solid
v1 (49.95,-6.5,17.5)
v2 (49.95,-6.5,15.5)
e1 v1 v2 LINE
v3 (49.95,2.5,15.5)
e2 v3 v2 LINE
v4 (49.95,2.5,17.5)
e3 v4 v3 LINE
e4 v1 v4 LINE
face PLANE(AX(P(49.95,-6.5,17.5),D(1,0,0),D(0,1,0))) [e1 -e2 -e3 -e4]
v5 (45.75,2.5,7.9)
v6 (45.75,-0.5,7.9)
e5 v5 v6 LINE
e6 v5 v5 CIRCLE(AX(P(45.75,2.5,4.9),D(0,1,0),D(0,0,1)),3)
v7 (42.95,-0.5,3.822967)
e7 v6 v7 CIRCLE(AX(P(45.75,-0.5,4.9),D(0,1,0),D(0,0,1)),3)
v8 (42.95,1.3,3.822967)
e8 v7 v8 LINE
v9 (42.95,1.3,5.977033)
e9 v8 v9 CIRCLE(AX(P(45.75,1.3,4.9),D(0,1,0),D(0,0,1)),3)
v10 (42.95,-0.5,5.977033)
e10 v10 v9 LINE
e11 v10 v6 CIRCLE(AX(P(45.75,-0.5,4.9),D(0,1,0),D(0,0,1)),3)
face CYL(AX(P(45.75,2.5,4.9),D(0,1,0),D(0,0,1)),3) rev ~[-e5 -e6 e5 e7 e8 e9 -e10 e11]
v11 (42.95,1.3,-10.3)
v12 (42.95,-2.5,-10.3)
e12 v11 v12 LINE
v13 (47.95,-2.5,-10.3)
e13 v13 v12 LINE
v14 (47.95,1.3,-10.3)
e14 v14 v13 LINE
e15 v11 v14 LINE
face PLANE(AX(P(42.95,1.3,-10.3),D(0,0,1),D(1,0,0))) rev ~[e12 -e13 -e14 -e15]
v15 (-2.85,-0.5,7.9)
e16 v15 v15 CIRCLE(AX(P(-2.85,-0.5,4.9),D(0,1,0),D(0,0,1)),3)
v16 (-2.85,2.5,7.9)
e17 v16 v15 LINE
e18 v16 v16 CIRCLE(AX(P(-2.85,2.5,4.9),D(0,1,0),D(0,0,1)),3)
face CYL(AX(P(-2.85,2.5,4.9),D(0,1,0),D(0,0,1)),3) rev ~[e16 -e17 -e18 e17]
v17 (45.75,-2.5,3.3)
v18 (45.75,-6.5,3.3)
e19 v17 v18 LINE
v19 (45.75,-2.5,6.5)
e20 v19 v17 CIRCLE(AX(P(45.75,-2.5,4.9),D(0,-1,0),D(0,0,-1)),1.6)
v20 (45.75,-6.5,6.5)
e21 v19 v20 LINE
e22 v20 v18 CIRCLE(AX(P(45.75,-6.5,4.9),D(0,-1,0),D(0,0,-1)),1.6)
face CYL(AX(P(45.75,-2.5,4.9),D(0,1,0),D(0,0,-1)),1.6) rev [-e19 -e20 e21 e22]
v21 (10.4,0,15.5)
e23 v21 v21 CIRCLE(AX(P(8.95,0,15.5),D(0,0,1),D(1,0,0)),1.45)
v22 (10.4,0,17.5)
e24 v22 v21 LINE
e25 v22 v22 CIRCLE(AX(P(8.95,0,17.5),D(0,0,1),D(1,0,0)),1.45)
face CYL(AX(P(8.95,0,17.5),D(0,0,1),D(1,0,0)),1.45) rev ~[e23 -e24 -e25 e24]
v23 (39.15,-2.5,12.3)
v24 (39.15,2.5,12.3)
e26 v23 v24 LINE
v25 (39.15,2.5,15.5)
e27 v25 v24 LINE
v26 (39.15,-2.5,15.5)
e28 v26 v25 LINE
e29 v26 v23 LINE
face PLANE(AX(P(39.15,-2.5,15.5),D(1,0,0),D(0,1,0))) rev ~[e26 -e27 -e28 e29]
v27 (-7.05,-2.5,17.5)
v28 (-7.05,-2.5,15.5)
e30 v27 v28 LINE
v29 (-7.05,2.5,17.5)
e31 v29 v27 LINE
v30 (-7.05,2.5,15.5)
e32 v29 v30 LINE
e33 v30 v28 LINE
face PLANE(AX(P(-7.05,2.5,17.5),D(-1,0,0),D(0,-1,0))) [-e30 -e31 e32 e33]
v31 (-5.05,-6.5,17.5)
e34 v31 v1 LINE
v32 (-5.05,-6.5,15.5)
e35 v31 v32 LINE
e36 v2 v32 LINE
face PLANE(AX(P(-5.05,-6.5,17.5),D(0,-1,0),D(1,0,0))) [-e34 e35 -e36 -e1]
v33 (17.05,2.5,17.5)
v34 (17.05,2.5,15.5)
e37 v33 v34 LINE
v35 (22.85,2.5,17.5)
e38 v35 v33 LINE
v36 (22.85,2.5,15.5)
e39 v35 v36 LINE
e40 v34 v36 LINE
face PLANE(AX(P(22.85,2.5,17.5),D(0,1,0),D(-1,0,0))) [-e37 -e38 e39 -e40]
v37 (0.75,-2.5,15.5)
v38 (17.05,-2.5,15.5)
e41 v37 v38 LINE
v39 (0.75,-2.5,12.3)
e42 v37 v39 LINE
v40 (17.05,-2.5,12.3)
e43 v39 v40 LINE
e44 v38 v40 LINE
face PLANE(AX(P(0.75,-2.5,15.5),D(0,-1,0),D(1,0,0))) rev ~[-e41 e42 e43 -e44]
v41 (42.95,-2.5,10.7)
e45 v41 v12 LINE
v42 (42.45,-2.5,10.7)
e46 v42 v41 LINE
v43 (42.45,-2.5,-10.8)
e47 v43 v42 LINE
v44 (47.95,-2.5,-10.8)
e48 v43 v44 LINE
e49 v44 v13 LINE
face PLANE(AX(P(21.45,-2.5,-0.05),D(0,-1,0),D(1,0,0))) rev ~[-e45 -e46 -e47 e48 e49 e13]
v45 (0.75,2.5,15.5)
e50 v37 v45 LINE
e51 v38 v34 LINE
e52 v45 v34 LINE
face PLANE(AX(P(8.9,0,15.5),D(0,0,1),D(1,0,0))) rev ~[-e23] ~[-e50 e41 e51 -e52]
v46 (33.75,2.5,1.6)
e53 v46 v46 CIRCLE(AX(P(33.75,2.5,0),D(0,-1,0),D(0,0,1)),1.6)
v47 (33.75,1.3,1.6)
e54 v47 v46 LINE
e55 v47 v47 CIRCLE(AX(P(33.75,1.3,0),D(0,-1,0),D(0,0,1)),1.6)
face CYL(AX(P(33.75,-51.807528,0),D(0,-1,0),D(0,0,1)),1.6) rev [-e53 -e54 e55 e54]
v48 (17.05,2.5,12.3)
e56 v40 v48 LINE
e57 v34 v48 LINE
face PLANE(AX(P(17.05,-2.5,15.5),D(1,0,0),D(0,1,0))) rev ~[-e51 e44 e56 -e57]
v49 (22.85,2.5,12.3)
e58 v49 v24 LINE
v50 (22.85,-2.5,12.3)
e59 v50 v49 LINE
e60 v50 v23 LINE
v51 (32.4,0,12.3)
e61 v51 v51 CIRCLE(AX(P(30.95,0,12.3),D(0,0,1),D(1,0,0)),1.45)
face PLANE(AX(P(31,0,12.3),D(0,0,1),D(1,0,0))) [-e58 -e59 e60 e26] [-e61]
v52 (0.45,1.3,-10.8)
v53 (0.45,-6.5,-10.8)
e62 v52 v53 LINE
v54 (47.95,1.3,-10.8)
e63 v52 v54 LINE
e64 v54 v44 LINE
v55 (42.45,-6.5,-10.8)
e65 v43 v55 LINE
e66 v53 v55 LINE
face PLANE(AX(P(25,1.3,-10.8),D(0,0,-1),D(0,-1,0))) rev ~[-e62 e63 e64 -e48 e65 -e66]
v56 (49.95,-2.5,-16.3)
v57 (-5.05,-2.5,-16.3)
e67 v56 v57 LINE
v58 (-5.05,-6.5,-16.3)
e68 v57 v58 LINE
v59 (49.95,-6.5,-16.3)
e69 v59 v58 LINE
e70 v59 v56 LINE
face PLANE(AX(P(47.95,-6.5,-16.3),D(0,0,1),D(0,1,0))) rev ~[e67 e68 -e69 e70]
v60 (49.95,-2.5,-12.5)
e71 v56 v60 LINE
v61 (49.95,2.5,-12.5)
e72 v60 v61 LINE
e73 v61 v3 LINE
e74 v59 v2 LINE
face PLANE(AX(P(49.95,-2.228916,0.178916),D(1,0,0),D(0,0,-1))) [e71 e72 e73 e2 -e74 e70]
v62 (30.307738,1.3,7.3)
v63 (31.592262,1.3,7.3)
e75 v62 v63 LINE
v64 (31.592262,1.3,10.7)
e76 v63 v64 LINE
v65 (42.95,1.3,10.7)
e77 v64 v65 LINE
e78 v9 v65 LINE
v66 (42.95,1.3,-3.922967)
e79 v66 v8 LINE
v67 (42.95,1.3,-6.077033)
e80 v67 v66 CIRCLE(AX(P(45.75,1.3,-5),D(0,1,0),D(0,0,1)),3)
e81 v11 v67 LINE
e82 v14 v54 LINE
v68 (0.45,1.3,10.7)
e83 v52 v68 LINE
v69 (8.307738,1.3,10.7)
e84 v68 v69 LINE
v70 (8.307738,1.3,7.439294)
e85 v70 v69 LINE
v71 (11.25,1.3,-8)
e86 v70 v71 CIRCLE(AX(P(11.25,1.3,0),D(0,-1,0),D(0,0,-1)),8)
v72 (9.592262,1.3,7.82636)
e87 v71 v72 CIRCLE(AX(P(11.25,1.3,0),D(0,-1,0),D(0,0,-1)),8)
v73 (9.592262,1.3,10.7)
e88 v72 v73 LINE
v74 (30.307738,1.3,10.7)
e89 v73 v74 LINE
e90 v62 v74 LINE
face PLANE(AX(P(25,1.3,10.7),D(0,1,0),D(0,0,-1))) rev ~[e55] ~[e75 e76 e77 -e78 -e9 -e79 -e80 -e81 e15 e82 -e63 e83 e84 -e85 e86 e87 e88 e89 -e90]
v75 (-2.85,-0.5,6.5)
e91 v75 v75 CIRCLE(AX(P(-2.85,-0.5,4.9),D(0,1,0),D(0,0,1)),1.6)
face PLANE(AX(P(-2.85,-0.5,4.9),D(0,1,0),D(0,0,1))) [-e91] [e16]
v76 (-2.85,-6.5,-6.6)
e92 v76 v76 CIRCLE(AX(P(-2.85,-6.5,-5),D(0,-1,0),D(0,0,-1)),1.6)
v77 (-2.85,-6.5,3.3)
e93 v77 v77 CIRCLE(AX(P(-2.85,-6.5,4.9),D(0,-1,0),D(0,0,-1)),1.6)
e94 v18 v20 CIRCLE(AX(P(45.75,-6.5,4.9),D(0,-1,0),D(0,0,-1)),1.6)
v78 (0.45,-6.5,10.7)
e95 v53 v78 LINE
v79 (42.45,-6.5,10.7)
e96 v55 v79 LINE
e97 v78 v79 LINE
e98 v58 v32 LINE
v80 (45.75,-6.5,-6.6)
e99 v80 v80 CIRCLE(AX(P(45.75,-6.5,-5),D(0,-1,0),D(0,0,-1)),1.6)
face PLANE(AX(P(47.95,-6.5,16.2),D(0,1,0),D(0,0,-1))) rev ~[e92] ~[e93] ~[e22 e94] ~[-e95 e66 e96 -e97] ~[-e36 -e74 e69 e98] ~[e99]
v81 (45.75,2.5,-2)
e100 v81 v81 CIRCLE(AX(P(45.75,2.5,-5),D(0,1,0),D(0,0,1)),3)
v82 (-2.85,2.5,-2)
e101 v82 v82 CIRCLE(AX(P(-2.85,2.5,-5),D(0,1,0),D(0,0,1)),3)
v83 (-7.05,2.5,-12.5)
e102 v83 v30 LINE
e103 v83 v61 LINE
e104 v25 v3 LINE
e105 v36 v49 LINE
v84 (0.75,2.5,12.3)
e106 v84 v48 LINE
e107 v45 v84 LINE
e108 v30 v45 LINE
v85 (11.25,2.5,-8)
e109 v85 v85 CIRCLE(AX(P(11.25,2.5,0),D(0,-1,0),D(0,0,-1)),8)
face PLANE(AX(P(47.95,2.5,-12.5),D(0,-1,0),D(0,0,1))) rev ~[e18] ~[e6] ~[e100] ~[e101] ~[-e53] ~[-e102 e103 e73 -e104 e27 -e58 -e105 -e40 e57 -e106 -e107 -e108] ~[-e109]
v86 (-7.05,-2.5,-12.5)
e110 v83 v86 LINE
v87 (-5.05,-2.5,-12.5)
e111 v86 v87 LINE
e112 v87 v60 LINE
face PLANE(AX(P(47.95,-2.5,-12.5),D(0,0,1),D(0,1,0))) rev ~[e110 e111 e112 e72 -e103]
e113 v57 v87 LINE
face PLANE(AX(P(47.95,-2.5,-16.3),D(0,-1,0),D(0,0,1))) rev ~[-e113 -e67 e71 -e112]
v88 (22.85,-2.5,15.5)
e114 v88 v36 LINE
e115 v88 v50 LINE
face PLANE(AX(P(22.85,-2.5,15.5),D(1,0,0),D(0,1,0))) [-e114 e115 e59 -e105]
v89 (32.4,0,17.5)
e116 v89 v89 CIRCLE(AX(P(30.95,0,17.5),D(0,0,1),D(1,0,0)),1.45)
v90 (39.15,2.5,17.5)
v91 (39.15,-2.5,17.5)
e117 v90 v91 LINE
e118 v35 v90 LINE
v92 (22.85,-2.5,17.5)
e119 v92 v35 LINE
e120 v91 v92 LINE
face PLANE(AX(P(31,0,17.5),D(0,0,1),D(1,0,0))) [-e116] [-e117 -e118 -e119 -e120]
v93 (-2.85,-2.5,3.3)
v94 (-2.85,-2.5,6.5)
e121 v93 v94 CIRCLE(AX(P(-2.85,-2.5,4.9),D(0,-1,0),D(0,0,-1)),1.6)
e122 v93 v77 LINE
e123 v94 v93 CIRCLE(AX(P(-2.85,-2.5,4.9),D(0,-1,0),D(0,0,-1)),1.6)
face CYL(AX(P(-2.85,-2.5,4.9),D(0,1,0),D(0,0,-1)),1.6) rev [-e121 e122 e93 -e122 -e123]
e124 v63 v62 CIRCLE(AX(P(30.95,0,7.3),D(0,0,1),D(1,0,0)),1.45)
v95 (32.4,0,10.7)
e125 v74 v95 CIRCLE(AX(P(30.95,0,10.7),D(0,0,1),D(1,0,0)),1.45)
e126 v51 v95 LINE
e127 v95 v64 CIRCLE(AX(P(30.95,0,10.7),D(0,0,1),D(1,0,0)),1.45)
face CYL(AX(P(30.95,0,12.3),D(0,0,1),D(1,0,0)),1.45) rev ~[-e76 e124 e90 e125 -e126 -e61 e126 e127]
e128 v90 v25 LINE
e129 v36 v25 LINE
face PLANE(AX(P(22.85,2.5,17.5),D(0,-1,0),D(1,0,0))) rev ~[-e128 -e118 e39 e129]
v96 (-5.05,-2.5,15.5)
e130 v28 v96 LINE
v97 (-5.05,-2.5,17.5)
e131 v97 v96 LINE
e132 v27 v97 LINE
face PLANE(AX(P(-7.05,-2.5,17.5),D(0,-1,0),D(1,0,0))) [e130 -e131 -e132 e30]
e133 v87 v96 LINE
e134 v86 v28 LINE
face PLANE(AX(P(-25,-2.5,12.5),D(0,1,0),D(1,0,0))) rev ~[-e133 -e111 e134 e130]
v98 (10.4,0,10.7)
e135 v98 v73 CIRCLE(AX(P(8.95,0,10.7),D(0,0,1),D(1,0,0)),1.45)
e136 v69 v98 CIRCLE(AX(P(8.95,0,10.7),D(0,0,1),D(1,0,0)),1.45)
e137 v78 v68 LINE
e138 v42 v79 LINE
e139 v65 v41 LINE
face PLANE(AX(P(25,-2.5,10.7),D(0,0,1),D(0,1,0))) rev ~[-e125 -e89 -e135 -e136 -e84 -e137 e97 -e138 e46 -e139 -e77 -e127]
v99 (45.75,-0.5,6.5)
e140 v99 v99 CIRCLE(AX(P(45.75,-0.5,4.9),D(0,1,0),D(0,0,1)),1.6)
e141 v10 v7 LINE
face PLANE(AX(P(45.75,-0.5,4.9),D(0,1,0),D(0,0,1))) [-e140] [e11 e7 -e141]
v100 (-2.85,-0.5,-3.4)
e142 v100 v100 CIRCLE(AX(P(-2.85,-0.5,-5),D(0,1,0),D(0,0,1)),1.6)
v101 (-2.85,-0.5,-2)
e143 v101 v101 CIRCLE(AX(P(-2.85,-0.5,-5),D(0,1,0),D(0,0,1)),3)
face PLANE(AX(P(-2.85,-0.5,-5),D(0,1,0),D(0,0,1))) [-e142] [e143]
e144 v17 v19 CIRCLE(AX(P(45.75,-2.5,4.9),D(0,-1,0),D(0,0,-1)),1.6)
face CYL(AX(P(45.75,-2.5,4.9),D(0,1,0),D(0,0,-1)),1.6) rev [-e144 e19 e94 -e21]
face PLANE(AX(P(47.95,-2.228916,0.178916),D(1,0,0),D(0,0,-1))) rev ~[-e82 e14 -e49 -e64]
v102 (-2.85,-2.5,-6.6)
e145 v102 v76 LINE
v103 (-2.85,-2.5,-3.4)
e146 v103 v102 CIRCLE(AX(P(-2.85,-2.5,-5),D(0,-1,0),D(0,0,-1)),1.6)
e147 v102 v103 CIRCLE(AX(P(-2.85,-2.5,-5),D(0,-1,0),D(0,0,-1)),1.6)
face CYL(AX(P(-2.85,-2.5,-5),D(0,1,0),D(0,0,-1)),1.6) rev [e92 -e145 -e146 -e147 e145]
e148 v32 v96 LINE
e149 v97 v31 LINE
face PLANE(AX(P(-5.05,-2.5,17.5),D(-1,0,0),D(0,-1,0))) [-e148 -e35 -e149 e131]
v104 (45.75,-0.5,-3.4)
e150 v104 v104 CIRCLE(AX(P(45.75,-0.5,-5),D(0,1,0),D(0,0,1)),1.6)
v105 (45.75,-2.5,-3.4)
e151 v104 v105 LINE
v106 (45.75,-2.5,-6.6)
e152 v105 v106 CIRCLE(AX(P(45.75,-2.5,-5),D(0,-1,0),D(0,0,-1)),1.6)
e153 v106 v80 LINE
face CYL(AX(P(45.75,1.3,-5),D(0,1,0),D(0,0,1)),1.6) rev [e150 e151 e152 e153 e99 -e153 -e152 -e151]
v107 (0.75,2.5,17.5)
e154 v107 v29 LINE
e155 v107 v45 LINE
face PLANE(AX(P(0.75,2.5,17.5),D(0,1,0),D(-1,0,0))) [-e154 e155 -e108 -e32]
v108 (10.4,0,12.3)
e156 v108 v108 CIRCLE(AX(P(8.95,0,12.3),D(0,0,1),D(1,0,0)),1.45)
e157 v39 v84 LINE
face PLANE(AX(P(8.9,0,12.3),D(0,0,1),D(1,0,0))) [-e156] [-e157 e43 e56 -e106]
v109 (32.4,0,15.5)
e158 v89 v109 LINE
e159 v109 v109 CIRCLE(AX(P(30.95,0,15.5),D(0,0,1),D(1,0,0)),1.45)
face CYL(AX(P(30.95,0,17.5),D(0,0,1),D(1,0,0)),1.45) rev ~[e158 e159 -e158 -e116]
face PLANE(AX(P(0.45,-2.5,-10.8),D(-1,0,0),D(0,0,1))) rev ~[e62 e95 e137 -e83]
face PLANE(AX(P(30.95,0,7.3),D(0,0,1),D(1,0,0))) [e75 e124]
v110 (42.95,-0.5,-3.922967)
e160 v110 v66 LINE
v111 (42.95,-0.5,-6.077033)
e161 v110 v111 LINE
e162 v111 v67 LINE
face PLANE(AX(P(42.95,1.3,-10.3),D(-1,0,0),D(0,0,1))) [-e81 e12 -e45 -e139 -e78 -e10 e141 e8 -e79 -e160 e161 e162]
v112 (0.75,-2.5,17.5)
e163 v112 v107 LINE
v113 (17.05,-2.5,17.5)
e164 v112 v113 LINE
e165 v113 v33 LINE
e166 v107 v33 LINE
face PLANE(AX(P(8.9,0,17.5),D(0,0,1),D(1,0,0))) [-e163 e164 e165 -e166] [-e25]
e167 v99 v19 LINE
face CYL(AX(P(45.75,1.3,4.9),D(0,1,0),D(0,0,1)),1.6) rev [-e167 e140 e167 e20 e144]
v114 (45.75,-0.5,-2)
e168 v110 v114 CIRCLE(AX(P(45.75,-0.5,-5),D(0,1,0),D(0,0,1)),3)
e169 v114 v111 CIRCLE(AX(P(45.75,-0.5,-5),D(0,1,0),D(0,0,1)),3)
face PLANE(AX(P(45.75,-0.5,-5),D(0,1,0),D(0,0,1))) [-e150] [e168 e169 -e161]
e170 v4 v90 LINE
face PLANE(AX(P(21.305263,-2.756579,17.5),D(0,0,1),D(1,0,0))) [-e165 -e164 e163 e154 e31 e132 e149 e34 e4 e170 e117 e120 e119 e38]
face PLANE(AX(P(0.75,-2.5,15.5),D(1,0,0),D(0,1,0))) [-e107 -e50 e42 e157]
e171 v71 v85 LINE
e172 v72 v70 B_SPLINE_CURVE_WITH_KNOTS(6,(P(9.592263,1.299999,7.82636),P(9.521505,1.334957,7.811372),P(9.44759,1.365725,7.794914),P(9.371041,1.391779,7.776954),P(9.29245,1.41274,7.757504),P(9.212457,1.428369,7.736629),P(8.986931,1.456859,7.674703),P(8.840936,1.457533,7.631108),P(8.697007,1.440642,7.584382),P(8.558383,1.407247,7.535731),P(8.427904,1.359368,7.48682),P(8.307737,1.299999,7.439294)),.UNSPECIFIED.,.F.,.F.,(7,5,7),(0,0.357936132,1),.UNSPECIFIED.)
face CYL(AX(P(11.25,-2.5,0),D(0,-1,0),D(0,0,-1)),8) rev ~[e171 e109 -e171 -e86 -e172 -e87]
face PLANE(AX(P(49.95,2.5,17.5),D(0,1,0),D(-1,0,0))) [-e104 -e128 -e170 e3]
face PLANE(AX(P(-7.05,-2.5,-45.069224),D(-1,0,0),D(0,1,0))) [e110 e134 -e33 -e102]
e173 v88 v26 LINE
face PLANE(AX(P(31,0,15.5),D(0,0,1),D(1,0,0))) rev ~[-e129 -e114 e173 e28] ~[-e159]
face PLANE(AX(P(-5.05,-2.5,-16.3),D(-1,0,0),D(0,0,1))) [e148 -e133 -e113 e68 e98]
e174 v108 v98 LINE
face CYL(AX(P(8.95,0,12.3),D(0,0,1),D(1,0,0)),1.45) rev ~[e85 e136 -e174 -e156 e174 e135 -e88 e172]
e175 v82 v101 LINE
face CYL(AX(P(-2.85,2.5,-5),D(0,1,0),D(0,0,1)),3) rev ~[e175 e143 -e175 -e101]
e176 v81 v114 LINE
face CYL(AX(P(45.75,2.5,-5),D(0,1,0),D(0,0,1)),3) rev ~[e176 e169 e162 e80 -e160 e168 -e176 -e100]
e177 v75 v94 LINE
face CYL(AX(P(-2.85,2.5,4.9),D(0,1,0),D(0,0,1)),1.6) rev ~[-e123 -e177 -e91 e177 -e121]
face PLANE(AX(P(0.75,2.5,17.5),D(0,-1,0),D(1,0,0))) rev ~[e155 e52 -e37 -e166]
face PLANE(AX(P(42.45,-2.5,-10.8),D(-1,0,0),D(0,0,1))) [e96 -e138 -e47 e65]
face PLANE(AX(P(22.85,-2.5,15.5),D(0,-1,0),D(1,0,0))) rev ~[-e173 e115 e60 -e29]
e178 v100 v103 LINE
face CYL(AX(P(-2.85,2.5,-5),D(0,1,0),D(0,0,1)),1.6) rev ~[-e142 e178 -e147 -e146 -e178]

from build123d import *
from build123d.topology import SkipClean

# Parameters (mm, degrees)
SKETCH1_W                = 50
SKETCH1_H                = 25
SKETCH1_R                = 1.3
SKETCH1_R_2              = 4.5
BOSS_EXTRUDE1_DEPTH      = 2.5
SKETCH2_W                = 50
SKETCH2_H                = 12
BOSS_EXTRUDE2_DEPTH      = 3
SKETCH3_W                = 50
SKETCH3_H                = 28
BOSS_EXTRUDE3_DEPTH      = 3
SKETCH4_R                = 1.3
CUT_EXTRUDE1_DEPTH       = 34.018933962
SKETCH5_W                = 53
SKETCH5_H                = 32.5
SKETCH5_R                = 1.6
SKETCH5_W_2              = 42
SKETCH5_H_2              = 21.5
BOSS_EXTRUDE4_DEPTH      = 4
SKETCH7_R                = 8
CUT_EXTRUDE2_DEPTH       = 5
SKETCH8_W                = 24.55
SKETCH8_H                = 21.5
CUT_EXTRUDE3_DEPTH       = 3.8
BOSS_EXTRUDE6_DEPTH      = 22.95
BOSS_EXTRUDE7_DEPTH      = 2
CUT_EXTRUDE4_START       = -1.2
SKETCH11_R               = 1.6
CUT_EXTRUDE4_DEPTH       = 1.2
SKETCH12_W               = 7
SKETCH12_H               = 21
SKETCH12_R               = 1.6
BOSS_EXTRUDE8_DEPTH      = 7.8
CUT_EXTRUDE5_DEPTH       = 55.054972019
CUT_EXTRUDE5_DEPTH_BACK  = 55.054972019
SKETCH13_W               = 0.7
SKETCH13_H               = 5
SKETCH13_H_2             = 4
CUT_EXTRUDE6_DEPTH       = 78.713850117
CUT_EXTRUDE6_DEPTH_BACK  = 78.713850117
SKETCH14_W               = 28
SKETCH14_H               = 10
SKETCH16_R               = 3
CUT_EXTRUDE8_DEPTH       = 3
SKETCH15_R               = 1.6
CUT_EXTRUDE9_DEPTH       = 5
SKETCH17_W               = 16.3
SKETCH17_H               = 5
CUT_EXTRUDE10_DEPTH      = 3.2
SKETCH18_R               = 1.45
CUT_EXTRUDE11_DEPTH      = 5
CUT_EXTRUDE12_DEPTH      = 54.307527611
CUT_EXTRUDE12_DEPTH_BACK = 54.307527611
SKETCH19_R               = 1.6
CUT_EXTRUDE14_DEPTH      = 60.569224437
CUT_EXTRUDE14_DEPTH_BACK = 60.569224437
SKETCH20_W               = 17.95
SKETCH20_H               = 5
BOSS_EXTRUDE11_START     = 2
SKETCH21_W               = 16.3
SKETCH21_H               = 5
SKETCH21_R               = 1.45
BOSS_EXTRUDE11_DEPTH     = 2


with BuildPart() as part:
    # Sketch1 → Boss-Extrude1 (new, symmetric)
    with BuildSketch(Plane(origin=(0, 0, 0), x_dir=(1, 0, 0), z_dir=(0, 1, 0))):
        Rectangle(SKETCH1_W, SKETCH1_H)
        with Locations(Location((-11.25, 0, 0), (0, 0, 270))):
            Circle(SKETCH1_R, mode=Mode.SUBTRACT)
        with Locations(Location((11.25, 0, 0), (0, 0, 270))):
            Circle(SKETCH1_R_2, mode=Mode.SUBTRACT)
    extrude(amount=BOSS_EXTRUDE1_DEPTH, both=True)

    # Sketch2 → Boss-Extrude2 (add)
    with BuildSketch(Plane.XY.offset(12.5)):
        with Locations((0, 3.5)):
            Rectangle(SKETCH2_W, SKETCH2_H)
    extrude(amount=BOSS_EXTRUDE2_DEPTH)

    # Sketch3 → Boss-Extrude3 (add)
    with BuildSketch(Plane(origin=(0, 9.5, 0), x_dir=(1, 0, 0), z_dir=(0, 1, 0))):
        with Locations((0, -1.5)):
            Rectangle(SKETCH3_W, SKETCH3_H)
    extrude(amount=BOSS_EXTRUDE3_DEPTH)

    # Sketch4 → Cut-Extrude1 (cut, through all)
    with BuildSketch(Plane(origin=(0, 12.5, 0), x_dir=(1, 0, 0), z_dir=(0, 1, 0))):
        with Locations(Location((11.25, 0, 0), (0, 0, 270))):
            Circle(SKETCH4_R)
        with Locations(Location((-11.25, 0, 0), (0, 0, 270))):
            Circle(SKETCH4_R)
    extrude(amount=-CUT_EXTRUDE1_DEPTH, mode=Mode.SUBTRACT)

    # Sketch5 → Boss-Extrude4 (add)
    with BuildSketch(Plane.XZ.offset(2.5)):
        with Locations((21.45, -0.05)):
            Rectangle(SKETCH5_W, SKETCH5_H)
        with Locations(Location((45.75, -5, 0), (0, 0, 270))):
            Circle(SKETCH5_R, mode=Mode.SUBTRACT)
        with Locations(Location((45.75, 4.9, 0), (0, 0, 270))):
            Circle(SKETCH5_R, mode=Mode.SUBTRACT)
        with Locations(Location((-2.85, 4.9, 0), (0, 0, 270))):
            Circle(SKETCH5_R, mode=Mode.SUBTRACT)
        with Locations(Location((-2.85, -5, 0), (0, 0, 270))):
            Circle(SKETCH5_R, mode=Mode.SUBTRACT)
        with Locations((21.45, -0.05)):
            Rectangle(SKETCH5_W_2, SKETCH5_H_2, mode=Mode.SUBTRACT)
    extrude(amount=BOSS_EXTRUDE4_DEPTH)

    # Sketch7 → Cut-Extrude2 (cut)
    with BuildSketch(Plane.XZ.offset(2.5)):
        with Locations(Location((11.25, 0, 0), (0, 0, 270))):
            Circle(SKETCH7_R)
    extrude(amount=-CUT_EXTRUDE2_DEPTH, mode=Mode.SUBTRACT)

    # Sketch8 → Cut-Extrude3 (cut)
    with BuildSketch(Plane.XZ.offset(2.5)):
        with Locations((12.725, -0.05)):
            Rectangle(SKETCH8_W, SKETCH8_H)
    extrude(amount=-CUT_EXTRUDE3_DEPTH, mode=Mode.SUBTRACT)

    # Sketch9 → Boss-Extrude6 (add)
    with BuildSketch(Plane(origin=(25, 0, 0), x_dir=(0, 0, -1), z_dir=(1, 0, 0))):
        Polygon((12.5, 2.5), (-16.2, 2.5), (-16.2, -2.5), (-10.7, -2.5), (-10.7, 1.3), (10.8, 1.3), (10.8, -2.5), (12.5, -2.5), align=None)
    extrude(amount=BOSS_EXTRUDE6_DEPTH)

    # Sketch10 → Boss-Extrude7 (add)
    with BuildSketch(Plane(origin=(47.95, 0, 0), x_dir=(0, 0, -1), z_dir=(1, 0, 0))):
        Polygon((16.3, -2.5), (12.5, -2.5), (12.5, 2.5), (-16.2, 2.5), (-16.2, -6.5), (16.3, -6.5), align=None)
    extrude(amount=BOSS_EXTRUDE7_DEPTH)

    # Sketch11 → Cut-Extrude4 (cut)
    with BuildSketch(Plane.XZ.offset(-1.3).offset(CUT_EXTRUDE4_START)):
        with Locations(Location((-2.85, 4.9, 0), (0, 0, 270))):
            Circle(SKETCH11_R)
        with Locations(Location((-2.85, -5, 0), (0, 0, 270))):
            Circle(SKETCH11_R)
        with Locations(Location((45.75, 4.9, 0), (0, 0, 270))):
            Circle(SKETCH11_R)
        with Locations(Location((45.75, -5, 0), (0, 0, 270))):
            Circle(SKETCH11_R)
    extrude(amount=CUT_EXTRUDE4_DEPTH, mode=Mode.SUBTRACT)

    # Sketch12 → Boss-Extrude8 (add)
    with BuildSketch(Plane.XZ.offset(-1.3)):
        with Locations((46.45, 0.2)):
            Rectangle(SKETCH12_W, SKETCH12_H)
        with Locations(Location((45.75, 4.9, 0), (0, 0, 90))):
            Circle(SKETCH12_R, mode=Mode.SUBTRACT)
        with Locations(Location((45.75, -5, 0), (0, 0, 90))):
            Circle(SKETCH12_R, mode=Mode.SUBTRACT)
    extrude(amount=BOSS_EXTRUDE8_DEPTH)

    # Sketch13 → Cut-Extrude5 (cut, two sides: drawn at the far end of the back side and taken through both)
    with BuildSketch(Plane.ZY.offset(-25).offset(-CUT_EXTRUDE5_DEPTH_BACK)):
        with Locations((15.85, 0)):
            Rectangle(SKETCH13_W, SKETCH13_H)
        with Locations((15.85, -4.5)):
            Rectangle(SKETCH13_W, SKETCH13_H_2)
    extrude(amount=CUT_EXTRUDE5_DEPTH + CUT_EXTRUDE5_DEPTH_BACK, mode=Mode.SUBTRACT)

    # Sketch14 → Cut-Extrude6 (cut, two sides: drawn at the far end of the back side and taken through both)
    with BuildSketch(Plane.ZY.offset(25).offset(-CUT_EXTRUDE6_DEPTH_BACK)):
        with Locations((1.5, 7.5)):
            Rectangle(SKETCH14_W, SKETCH14_H)
    extrude(amount=CUT_EXTRUDE6_DEPTH + CUT_EXTRUDE6_DEPTH_BACK, mode=Mode.SUBTRACT)

    # Sketch16 → Cut-Extrude8 (cut)
    with BuildSketch(Plane(origin=(0, 2.5, 0), x_dir=(1, 0, 0), z_dir=(0, 1, 0))):
        with Locations(Location((-2.85, 5, 0), (0, 0, 270))):
            Circle(SKETCH16_R)
        with Locations(Location((-2.85, -4.9, 0), (0, 0, 270))):
            Circle(SKETCH16_R)
        with Locations(Location((45.75, 5, 0), (0, 0, 270))):
            Circle(SKETCH16_R)
        with Locations(Location((45.75, -4.9, 0), (0, 0, 270))):
            Circle(SKETCH16_R)
    extrude(amount=-CUT_EXTRUDE8_DEPTH, mode=Mode.SUBTRACT)

    # Sketch15 → Cut-Extrude9 (cut)
    with SkipClean():  # the faces are left unmerged after this step: merging them gives an invalid solid
        with BuildSketch(Plane(origin=(0, 2.5, 0), x_dir=(1, 0, 0), z_dir=(0, 1, 0))):
            with Locations(Location((-2.85, 5, 0), (0, 0, 270))):
                Circle(SKETCH15_R)
            with Locations(Location((-2.85, -4.9, 0), (0, 0, 270))):
                Circle(SKETCH15_R)
        extrude(amount=-CUT_EXTRUDE9_DEPTH, mode=Mode.SUBTRACT)

    # Sketch17 → Cut-Extrude10 (cut)
    with SkipClean():  # the faces are left unmerged after this step: merging them gives an invalid solid
        with BuildSketch(Plane.XY.offset(15.5)):
            with Locations((8.9, 0)):
                Rectangle(SKETCH17_W, SKETCH17_H)
            with Locations((31, 0)):
                Rectangle(SKETCH17_W, SKETCH17_H)
        extrude(amount=-CUT_EXTRUDE10_DEPTH, mode=Mode.SUBTRACT)

    # Sketch18 → Cut-Extrude11 (cut)
    with SkipClean():  # the faces are left unmerged after this step: merging them gives an invalid solid
        with BuildSketch(Plane.XY.offset(12.3)):
            with Locations((8.95, 0)):
                Circle(SKETCH18_R)
            with Locations((30.95, 0)):
                Circle(SKETCH18_R)
        extrude(amount=-CUT_EXTRUDE11_DEPTH, mode=Mode.SUBTRACT)

    # Sketch19 → Cut-Extrude12 (cut, two sides: drawn at the far end of the back side and taken through both)
    with SkipClean():  # the faces are left unmerged after this step: merging them gives an invalid solid
        with BuildSketch(Plane(origin=(0, 2.5, 0), x_dir=(1, 0, 0), z_dir=(0, 1, 0)).offset(-CUT_EXTRUDE12_DEPTH_BACK)):
            with Locations(Location((33.75, 0, 0), (0, 0, 270))):
                Circle(SKETCH19_R)
        extrude(amount=CUT_EXTRUDE12_DEPTH + CUT_EXTRUDE12_DEPTH_BACK, mode=Mode.SUBTRACT)

    # Sketch20 → Cut-Extrude14 (cut, two sides: drawn at the far end of the back side and taken through both)
    with SkipClean():  # the faces are left unmerged after this step: merging them gives an invalid solid
        with BuildSketch(Plane.XY.offset(15.5).offset(-CUT_EXTRUDE14_DEPTH_BACK)):
            with Locations((-16.025, 0)):
                Rectangle(SKETCH20_W, SKETCH20_H)
        extrude(amount=CUT_EXTRUDE14_DEPTH + CUT_EXTRUDE14_DEPTH_BACK, mode=Mode.SUBTRACT)

    # Sketch21 → Boss-Extrude11 (add)
    # profile 1 of 3: a face of its own
    with SkipClean():  # the faces are left unmerged after this step: merging them gives an invalid solid
        with BuildSketch(Plane.XY.offset(15.5).offset(BOSS_EXTRUDE11_START)):
            with Locations((8.9, 0)):
                Rectangle(SKETCH21_W, SKETCH21_H)
            with Locations((8.95, 0)):
                Circle(SKETCH21_R, mode=Mode.SUBTRACT)
        # profile 2 of 3: a face of its own
        with BuildSketch(Plane.XY.offset(15.5).offset(BOSS_EXTRUDE11_START)):
            Polygon((0.75, -2.5), (0.75, 2.5), (-7.05, 2.5), (-7.05, -2.5), (-5.05, -2.5), (-5.05, -6.5), (49.95, -6.5), (49.95, 2.5), (39.15, 2.5), (39.15, -2.5), (22.85, -2.5), (22.85, 2.5), (17.05, 2.5), (17.05, -2.5), align=None)
        # profile 3 of 3: a face of its own
        with BuildSketch(Plane.XY.offset(15.5).offset(BOSS_EXTRUDE11_START)):
            with Locations((31, 0)):
                Rectangle(SKETCH21_W, SKETCH21_H)
            with Locations((30.95, 0)):
                Circle(SKETCH21_R, mode=Mode.SUBTRACT)
        extrude(amount=-BOSS_EXTRUDE11_DEPTH)


solid = part.part
